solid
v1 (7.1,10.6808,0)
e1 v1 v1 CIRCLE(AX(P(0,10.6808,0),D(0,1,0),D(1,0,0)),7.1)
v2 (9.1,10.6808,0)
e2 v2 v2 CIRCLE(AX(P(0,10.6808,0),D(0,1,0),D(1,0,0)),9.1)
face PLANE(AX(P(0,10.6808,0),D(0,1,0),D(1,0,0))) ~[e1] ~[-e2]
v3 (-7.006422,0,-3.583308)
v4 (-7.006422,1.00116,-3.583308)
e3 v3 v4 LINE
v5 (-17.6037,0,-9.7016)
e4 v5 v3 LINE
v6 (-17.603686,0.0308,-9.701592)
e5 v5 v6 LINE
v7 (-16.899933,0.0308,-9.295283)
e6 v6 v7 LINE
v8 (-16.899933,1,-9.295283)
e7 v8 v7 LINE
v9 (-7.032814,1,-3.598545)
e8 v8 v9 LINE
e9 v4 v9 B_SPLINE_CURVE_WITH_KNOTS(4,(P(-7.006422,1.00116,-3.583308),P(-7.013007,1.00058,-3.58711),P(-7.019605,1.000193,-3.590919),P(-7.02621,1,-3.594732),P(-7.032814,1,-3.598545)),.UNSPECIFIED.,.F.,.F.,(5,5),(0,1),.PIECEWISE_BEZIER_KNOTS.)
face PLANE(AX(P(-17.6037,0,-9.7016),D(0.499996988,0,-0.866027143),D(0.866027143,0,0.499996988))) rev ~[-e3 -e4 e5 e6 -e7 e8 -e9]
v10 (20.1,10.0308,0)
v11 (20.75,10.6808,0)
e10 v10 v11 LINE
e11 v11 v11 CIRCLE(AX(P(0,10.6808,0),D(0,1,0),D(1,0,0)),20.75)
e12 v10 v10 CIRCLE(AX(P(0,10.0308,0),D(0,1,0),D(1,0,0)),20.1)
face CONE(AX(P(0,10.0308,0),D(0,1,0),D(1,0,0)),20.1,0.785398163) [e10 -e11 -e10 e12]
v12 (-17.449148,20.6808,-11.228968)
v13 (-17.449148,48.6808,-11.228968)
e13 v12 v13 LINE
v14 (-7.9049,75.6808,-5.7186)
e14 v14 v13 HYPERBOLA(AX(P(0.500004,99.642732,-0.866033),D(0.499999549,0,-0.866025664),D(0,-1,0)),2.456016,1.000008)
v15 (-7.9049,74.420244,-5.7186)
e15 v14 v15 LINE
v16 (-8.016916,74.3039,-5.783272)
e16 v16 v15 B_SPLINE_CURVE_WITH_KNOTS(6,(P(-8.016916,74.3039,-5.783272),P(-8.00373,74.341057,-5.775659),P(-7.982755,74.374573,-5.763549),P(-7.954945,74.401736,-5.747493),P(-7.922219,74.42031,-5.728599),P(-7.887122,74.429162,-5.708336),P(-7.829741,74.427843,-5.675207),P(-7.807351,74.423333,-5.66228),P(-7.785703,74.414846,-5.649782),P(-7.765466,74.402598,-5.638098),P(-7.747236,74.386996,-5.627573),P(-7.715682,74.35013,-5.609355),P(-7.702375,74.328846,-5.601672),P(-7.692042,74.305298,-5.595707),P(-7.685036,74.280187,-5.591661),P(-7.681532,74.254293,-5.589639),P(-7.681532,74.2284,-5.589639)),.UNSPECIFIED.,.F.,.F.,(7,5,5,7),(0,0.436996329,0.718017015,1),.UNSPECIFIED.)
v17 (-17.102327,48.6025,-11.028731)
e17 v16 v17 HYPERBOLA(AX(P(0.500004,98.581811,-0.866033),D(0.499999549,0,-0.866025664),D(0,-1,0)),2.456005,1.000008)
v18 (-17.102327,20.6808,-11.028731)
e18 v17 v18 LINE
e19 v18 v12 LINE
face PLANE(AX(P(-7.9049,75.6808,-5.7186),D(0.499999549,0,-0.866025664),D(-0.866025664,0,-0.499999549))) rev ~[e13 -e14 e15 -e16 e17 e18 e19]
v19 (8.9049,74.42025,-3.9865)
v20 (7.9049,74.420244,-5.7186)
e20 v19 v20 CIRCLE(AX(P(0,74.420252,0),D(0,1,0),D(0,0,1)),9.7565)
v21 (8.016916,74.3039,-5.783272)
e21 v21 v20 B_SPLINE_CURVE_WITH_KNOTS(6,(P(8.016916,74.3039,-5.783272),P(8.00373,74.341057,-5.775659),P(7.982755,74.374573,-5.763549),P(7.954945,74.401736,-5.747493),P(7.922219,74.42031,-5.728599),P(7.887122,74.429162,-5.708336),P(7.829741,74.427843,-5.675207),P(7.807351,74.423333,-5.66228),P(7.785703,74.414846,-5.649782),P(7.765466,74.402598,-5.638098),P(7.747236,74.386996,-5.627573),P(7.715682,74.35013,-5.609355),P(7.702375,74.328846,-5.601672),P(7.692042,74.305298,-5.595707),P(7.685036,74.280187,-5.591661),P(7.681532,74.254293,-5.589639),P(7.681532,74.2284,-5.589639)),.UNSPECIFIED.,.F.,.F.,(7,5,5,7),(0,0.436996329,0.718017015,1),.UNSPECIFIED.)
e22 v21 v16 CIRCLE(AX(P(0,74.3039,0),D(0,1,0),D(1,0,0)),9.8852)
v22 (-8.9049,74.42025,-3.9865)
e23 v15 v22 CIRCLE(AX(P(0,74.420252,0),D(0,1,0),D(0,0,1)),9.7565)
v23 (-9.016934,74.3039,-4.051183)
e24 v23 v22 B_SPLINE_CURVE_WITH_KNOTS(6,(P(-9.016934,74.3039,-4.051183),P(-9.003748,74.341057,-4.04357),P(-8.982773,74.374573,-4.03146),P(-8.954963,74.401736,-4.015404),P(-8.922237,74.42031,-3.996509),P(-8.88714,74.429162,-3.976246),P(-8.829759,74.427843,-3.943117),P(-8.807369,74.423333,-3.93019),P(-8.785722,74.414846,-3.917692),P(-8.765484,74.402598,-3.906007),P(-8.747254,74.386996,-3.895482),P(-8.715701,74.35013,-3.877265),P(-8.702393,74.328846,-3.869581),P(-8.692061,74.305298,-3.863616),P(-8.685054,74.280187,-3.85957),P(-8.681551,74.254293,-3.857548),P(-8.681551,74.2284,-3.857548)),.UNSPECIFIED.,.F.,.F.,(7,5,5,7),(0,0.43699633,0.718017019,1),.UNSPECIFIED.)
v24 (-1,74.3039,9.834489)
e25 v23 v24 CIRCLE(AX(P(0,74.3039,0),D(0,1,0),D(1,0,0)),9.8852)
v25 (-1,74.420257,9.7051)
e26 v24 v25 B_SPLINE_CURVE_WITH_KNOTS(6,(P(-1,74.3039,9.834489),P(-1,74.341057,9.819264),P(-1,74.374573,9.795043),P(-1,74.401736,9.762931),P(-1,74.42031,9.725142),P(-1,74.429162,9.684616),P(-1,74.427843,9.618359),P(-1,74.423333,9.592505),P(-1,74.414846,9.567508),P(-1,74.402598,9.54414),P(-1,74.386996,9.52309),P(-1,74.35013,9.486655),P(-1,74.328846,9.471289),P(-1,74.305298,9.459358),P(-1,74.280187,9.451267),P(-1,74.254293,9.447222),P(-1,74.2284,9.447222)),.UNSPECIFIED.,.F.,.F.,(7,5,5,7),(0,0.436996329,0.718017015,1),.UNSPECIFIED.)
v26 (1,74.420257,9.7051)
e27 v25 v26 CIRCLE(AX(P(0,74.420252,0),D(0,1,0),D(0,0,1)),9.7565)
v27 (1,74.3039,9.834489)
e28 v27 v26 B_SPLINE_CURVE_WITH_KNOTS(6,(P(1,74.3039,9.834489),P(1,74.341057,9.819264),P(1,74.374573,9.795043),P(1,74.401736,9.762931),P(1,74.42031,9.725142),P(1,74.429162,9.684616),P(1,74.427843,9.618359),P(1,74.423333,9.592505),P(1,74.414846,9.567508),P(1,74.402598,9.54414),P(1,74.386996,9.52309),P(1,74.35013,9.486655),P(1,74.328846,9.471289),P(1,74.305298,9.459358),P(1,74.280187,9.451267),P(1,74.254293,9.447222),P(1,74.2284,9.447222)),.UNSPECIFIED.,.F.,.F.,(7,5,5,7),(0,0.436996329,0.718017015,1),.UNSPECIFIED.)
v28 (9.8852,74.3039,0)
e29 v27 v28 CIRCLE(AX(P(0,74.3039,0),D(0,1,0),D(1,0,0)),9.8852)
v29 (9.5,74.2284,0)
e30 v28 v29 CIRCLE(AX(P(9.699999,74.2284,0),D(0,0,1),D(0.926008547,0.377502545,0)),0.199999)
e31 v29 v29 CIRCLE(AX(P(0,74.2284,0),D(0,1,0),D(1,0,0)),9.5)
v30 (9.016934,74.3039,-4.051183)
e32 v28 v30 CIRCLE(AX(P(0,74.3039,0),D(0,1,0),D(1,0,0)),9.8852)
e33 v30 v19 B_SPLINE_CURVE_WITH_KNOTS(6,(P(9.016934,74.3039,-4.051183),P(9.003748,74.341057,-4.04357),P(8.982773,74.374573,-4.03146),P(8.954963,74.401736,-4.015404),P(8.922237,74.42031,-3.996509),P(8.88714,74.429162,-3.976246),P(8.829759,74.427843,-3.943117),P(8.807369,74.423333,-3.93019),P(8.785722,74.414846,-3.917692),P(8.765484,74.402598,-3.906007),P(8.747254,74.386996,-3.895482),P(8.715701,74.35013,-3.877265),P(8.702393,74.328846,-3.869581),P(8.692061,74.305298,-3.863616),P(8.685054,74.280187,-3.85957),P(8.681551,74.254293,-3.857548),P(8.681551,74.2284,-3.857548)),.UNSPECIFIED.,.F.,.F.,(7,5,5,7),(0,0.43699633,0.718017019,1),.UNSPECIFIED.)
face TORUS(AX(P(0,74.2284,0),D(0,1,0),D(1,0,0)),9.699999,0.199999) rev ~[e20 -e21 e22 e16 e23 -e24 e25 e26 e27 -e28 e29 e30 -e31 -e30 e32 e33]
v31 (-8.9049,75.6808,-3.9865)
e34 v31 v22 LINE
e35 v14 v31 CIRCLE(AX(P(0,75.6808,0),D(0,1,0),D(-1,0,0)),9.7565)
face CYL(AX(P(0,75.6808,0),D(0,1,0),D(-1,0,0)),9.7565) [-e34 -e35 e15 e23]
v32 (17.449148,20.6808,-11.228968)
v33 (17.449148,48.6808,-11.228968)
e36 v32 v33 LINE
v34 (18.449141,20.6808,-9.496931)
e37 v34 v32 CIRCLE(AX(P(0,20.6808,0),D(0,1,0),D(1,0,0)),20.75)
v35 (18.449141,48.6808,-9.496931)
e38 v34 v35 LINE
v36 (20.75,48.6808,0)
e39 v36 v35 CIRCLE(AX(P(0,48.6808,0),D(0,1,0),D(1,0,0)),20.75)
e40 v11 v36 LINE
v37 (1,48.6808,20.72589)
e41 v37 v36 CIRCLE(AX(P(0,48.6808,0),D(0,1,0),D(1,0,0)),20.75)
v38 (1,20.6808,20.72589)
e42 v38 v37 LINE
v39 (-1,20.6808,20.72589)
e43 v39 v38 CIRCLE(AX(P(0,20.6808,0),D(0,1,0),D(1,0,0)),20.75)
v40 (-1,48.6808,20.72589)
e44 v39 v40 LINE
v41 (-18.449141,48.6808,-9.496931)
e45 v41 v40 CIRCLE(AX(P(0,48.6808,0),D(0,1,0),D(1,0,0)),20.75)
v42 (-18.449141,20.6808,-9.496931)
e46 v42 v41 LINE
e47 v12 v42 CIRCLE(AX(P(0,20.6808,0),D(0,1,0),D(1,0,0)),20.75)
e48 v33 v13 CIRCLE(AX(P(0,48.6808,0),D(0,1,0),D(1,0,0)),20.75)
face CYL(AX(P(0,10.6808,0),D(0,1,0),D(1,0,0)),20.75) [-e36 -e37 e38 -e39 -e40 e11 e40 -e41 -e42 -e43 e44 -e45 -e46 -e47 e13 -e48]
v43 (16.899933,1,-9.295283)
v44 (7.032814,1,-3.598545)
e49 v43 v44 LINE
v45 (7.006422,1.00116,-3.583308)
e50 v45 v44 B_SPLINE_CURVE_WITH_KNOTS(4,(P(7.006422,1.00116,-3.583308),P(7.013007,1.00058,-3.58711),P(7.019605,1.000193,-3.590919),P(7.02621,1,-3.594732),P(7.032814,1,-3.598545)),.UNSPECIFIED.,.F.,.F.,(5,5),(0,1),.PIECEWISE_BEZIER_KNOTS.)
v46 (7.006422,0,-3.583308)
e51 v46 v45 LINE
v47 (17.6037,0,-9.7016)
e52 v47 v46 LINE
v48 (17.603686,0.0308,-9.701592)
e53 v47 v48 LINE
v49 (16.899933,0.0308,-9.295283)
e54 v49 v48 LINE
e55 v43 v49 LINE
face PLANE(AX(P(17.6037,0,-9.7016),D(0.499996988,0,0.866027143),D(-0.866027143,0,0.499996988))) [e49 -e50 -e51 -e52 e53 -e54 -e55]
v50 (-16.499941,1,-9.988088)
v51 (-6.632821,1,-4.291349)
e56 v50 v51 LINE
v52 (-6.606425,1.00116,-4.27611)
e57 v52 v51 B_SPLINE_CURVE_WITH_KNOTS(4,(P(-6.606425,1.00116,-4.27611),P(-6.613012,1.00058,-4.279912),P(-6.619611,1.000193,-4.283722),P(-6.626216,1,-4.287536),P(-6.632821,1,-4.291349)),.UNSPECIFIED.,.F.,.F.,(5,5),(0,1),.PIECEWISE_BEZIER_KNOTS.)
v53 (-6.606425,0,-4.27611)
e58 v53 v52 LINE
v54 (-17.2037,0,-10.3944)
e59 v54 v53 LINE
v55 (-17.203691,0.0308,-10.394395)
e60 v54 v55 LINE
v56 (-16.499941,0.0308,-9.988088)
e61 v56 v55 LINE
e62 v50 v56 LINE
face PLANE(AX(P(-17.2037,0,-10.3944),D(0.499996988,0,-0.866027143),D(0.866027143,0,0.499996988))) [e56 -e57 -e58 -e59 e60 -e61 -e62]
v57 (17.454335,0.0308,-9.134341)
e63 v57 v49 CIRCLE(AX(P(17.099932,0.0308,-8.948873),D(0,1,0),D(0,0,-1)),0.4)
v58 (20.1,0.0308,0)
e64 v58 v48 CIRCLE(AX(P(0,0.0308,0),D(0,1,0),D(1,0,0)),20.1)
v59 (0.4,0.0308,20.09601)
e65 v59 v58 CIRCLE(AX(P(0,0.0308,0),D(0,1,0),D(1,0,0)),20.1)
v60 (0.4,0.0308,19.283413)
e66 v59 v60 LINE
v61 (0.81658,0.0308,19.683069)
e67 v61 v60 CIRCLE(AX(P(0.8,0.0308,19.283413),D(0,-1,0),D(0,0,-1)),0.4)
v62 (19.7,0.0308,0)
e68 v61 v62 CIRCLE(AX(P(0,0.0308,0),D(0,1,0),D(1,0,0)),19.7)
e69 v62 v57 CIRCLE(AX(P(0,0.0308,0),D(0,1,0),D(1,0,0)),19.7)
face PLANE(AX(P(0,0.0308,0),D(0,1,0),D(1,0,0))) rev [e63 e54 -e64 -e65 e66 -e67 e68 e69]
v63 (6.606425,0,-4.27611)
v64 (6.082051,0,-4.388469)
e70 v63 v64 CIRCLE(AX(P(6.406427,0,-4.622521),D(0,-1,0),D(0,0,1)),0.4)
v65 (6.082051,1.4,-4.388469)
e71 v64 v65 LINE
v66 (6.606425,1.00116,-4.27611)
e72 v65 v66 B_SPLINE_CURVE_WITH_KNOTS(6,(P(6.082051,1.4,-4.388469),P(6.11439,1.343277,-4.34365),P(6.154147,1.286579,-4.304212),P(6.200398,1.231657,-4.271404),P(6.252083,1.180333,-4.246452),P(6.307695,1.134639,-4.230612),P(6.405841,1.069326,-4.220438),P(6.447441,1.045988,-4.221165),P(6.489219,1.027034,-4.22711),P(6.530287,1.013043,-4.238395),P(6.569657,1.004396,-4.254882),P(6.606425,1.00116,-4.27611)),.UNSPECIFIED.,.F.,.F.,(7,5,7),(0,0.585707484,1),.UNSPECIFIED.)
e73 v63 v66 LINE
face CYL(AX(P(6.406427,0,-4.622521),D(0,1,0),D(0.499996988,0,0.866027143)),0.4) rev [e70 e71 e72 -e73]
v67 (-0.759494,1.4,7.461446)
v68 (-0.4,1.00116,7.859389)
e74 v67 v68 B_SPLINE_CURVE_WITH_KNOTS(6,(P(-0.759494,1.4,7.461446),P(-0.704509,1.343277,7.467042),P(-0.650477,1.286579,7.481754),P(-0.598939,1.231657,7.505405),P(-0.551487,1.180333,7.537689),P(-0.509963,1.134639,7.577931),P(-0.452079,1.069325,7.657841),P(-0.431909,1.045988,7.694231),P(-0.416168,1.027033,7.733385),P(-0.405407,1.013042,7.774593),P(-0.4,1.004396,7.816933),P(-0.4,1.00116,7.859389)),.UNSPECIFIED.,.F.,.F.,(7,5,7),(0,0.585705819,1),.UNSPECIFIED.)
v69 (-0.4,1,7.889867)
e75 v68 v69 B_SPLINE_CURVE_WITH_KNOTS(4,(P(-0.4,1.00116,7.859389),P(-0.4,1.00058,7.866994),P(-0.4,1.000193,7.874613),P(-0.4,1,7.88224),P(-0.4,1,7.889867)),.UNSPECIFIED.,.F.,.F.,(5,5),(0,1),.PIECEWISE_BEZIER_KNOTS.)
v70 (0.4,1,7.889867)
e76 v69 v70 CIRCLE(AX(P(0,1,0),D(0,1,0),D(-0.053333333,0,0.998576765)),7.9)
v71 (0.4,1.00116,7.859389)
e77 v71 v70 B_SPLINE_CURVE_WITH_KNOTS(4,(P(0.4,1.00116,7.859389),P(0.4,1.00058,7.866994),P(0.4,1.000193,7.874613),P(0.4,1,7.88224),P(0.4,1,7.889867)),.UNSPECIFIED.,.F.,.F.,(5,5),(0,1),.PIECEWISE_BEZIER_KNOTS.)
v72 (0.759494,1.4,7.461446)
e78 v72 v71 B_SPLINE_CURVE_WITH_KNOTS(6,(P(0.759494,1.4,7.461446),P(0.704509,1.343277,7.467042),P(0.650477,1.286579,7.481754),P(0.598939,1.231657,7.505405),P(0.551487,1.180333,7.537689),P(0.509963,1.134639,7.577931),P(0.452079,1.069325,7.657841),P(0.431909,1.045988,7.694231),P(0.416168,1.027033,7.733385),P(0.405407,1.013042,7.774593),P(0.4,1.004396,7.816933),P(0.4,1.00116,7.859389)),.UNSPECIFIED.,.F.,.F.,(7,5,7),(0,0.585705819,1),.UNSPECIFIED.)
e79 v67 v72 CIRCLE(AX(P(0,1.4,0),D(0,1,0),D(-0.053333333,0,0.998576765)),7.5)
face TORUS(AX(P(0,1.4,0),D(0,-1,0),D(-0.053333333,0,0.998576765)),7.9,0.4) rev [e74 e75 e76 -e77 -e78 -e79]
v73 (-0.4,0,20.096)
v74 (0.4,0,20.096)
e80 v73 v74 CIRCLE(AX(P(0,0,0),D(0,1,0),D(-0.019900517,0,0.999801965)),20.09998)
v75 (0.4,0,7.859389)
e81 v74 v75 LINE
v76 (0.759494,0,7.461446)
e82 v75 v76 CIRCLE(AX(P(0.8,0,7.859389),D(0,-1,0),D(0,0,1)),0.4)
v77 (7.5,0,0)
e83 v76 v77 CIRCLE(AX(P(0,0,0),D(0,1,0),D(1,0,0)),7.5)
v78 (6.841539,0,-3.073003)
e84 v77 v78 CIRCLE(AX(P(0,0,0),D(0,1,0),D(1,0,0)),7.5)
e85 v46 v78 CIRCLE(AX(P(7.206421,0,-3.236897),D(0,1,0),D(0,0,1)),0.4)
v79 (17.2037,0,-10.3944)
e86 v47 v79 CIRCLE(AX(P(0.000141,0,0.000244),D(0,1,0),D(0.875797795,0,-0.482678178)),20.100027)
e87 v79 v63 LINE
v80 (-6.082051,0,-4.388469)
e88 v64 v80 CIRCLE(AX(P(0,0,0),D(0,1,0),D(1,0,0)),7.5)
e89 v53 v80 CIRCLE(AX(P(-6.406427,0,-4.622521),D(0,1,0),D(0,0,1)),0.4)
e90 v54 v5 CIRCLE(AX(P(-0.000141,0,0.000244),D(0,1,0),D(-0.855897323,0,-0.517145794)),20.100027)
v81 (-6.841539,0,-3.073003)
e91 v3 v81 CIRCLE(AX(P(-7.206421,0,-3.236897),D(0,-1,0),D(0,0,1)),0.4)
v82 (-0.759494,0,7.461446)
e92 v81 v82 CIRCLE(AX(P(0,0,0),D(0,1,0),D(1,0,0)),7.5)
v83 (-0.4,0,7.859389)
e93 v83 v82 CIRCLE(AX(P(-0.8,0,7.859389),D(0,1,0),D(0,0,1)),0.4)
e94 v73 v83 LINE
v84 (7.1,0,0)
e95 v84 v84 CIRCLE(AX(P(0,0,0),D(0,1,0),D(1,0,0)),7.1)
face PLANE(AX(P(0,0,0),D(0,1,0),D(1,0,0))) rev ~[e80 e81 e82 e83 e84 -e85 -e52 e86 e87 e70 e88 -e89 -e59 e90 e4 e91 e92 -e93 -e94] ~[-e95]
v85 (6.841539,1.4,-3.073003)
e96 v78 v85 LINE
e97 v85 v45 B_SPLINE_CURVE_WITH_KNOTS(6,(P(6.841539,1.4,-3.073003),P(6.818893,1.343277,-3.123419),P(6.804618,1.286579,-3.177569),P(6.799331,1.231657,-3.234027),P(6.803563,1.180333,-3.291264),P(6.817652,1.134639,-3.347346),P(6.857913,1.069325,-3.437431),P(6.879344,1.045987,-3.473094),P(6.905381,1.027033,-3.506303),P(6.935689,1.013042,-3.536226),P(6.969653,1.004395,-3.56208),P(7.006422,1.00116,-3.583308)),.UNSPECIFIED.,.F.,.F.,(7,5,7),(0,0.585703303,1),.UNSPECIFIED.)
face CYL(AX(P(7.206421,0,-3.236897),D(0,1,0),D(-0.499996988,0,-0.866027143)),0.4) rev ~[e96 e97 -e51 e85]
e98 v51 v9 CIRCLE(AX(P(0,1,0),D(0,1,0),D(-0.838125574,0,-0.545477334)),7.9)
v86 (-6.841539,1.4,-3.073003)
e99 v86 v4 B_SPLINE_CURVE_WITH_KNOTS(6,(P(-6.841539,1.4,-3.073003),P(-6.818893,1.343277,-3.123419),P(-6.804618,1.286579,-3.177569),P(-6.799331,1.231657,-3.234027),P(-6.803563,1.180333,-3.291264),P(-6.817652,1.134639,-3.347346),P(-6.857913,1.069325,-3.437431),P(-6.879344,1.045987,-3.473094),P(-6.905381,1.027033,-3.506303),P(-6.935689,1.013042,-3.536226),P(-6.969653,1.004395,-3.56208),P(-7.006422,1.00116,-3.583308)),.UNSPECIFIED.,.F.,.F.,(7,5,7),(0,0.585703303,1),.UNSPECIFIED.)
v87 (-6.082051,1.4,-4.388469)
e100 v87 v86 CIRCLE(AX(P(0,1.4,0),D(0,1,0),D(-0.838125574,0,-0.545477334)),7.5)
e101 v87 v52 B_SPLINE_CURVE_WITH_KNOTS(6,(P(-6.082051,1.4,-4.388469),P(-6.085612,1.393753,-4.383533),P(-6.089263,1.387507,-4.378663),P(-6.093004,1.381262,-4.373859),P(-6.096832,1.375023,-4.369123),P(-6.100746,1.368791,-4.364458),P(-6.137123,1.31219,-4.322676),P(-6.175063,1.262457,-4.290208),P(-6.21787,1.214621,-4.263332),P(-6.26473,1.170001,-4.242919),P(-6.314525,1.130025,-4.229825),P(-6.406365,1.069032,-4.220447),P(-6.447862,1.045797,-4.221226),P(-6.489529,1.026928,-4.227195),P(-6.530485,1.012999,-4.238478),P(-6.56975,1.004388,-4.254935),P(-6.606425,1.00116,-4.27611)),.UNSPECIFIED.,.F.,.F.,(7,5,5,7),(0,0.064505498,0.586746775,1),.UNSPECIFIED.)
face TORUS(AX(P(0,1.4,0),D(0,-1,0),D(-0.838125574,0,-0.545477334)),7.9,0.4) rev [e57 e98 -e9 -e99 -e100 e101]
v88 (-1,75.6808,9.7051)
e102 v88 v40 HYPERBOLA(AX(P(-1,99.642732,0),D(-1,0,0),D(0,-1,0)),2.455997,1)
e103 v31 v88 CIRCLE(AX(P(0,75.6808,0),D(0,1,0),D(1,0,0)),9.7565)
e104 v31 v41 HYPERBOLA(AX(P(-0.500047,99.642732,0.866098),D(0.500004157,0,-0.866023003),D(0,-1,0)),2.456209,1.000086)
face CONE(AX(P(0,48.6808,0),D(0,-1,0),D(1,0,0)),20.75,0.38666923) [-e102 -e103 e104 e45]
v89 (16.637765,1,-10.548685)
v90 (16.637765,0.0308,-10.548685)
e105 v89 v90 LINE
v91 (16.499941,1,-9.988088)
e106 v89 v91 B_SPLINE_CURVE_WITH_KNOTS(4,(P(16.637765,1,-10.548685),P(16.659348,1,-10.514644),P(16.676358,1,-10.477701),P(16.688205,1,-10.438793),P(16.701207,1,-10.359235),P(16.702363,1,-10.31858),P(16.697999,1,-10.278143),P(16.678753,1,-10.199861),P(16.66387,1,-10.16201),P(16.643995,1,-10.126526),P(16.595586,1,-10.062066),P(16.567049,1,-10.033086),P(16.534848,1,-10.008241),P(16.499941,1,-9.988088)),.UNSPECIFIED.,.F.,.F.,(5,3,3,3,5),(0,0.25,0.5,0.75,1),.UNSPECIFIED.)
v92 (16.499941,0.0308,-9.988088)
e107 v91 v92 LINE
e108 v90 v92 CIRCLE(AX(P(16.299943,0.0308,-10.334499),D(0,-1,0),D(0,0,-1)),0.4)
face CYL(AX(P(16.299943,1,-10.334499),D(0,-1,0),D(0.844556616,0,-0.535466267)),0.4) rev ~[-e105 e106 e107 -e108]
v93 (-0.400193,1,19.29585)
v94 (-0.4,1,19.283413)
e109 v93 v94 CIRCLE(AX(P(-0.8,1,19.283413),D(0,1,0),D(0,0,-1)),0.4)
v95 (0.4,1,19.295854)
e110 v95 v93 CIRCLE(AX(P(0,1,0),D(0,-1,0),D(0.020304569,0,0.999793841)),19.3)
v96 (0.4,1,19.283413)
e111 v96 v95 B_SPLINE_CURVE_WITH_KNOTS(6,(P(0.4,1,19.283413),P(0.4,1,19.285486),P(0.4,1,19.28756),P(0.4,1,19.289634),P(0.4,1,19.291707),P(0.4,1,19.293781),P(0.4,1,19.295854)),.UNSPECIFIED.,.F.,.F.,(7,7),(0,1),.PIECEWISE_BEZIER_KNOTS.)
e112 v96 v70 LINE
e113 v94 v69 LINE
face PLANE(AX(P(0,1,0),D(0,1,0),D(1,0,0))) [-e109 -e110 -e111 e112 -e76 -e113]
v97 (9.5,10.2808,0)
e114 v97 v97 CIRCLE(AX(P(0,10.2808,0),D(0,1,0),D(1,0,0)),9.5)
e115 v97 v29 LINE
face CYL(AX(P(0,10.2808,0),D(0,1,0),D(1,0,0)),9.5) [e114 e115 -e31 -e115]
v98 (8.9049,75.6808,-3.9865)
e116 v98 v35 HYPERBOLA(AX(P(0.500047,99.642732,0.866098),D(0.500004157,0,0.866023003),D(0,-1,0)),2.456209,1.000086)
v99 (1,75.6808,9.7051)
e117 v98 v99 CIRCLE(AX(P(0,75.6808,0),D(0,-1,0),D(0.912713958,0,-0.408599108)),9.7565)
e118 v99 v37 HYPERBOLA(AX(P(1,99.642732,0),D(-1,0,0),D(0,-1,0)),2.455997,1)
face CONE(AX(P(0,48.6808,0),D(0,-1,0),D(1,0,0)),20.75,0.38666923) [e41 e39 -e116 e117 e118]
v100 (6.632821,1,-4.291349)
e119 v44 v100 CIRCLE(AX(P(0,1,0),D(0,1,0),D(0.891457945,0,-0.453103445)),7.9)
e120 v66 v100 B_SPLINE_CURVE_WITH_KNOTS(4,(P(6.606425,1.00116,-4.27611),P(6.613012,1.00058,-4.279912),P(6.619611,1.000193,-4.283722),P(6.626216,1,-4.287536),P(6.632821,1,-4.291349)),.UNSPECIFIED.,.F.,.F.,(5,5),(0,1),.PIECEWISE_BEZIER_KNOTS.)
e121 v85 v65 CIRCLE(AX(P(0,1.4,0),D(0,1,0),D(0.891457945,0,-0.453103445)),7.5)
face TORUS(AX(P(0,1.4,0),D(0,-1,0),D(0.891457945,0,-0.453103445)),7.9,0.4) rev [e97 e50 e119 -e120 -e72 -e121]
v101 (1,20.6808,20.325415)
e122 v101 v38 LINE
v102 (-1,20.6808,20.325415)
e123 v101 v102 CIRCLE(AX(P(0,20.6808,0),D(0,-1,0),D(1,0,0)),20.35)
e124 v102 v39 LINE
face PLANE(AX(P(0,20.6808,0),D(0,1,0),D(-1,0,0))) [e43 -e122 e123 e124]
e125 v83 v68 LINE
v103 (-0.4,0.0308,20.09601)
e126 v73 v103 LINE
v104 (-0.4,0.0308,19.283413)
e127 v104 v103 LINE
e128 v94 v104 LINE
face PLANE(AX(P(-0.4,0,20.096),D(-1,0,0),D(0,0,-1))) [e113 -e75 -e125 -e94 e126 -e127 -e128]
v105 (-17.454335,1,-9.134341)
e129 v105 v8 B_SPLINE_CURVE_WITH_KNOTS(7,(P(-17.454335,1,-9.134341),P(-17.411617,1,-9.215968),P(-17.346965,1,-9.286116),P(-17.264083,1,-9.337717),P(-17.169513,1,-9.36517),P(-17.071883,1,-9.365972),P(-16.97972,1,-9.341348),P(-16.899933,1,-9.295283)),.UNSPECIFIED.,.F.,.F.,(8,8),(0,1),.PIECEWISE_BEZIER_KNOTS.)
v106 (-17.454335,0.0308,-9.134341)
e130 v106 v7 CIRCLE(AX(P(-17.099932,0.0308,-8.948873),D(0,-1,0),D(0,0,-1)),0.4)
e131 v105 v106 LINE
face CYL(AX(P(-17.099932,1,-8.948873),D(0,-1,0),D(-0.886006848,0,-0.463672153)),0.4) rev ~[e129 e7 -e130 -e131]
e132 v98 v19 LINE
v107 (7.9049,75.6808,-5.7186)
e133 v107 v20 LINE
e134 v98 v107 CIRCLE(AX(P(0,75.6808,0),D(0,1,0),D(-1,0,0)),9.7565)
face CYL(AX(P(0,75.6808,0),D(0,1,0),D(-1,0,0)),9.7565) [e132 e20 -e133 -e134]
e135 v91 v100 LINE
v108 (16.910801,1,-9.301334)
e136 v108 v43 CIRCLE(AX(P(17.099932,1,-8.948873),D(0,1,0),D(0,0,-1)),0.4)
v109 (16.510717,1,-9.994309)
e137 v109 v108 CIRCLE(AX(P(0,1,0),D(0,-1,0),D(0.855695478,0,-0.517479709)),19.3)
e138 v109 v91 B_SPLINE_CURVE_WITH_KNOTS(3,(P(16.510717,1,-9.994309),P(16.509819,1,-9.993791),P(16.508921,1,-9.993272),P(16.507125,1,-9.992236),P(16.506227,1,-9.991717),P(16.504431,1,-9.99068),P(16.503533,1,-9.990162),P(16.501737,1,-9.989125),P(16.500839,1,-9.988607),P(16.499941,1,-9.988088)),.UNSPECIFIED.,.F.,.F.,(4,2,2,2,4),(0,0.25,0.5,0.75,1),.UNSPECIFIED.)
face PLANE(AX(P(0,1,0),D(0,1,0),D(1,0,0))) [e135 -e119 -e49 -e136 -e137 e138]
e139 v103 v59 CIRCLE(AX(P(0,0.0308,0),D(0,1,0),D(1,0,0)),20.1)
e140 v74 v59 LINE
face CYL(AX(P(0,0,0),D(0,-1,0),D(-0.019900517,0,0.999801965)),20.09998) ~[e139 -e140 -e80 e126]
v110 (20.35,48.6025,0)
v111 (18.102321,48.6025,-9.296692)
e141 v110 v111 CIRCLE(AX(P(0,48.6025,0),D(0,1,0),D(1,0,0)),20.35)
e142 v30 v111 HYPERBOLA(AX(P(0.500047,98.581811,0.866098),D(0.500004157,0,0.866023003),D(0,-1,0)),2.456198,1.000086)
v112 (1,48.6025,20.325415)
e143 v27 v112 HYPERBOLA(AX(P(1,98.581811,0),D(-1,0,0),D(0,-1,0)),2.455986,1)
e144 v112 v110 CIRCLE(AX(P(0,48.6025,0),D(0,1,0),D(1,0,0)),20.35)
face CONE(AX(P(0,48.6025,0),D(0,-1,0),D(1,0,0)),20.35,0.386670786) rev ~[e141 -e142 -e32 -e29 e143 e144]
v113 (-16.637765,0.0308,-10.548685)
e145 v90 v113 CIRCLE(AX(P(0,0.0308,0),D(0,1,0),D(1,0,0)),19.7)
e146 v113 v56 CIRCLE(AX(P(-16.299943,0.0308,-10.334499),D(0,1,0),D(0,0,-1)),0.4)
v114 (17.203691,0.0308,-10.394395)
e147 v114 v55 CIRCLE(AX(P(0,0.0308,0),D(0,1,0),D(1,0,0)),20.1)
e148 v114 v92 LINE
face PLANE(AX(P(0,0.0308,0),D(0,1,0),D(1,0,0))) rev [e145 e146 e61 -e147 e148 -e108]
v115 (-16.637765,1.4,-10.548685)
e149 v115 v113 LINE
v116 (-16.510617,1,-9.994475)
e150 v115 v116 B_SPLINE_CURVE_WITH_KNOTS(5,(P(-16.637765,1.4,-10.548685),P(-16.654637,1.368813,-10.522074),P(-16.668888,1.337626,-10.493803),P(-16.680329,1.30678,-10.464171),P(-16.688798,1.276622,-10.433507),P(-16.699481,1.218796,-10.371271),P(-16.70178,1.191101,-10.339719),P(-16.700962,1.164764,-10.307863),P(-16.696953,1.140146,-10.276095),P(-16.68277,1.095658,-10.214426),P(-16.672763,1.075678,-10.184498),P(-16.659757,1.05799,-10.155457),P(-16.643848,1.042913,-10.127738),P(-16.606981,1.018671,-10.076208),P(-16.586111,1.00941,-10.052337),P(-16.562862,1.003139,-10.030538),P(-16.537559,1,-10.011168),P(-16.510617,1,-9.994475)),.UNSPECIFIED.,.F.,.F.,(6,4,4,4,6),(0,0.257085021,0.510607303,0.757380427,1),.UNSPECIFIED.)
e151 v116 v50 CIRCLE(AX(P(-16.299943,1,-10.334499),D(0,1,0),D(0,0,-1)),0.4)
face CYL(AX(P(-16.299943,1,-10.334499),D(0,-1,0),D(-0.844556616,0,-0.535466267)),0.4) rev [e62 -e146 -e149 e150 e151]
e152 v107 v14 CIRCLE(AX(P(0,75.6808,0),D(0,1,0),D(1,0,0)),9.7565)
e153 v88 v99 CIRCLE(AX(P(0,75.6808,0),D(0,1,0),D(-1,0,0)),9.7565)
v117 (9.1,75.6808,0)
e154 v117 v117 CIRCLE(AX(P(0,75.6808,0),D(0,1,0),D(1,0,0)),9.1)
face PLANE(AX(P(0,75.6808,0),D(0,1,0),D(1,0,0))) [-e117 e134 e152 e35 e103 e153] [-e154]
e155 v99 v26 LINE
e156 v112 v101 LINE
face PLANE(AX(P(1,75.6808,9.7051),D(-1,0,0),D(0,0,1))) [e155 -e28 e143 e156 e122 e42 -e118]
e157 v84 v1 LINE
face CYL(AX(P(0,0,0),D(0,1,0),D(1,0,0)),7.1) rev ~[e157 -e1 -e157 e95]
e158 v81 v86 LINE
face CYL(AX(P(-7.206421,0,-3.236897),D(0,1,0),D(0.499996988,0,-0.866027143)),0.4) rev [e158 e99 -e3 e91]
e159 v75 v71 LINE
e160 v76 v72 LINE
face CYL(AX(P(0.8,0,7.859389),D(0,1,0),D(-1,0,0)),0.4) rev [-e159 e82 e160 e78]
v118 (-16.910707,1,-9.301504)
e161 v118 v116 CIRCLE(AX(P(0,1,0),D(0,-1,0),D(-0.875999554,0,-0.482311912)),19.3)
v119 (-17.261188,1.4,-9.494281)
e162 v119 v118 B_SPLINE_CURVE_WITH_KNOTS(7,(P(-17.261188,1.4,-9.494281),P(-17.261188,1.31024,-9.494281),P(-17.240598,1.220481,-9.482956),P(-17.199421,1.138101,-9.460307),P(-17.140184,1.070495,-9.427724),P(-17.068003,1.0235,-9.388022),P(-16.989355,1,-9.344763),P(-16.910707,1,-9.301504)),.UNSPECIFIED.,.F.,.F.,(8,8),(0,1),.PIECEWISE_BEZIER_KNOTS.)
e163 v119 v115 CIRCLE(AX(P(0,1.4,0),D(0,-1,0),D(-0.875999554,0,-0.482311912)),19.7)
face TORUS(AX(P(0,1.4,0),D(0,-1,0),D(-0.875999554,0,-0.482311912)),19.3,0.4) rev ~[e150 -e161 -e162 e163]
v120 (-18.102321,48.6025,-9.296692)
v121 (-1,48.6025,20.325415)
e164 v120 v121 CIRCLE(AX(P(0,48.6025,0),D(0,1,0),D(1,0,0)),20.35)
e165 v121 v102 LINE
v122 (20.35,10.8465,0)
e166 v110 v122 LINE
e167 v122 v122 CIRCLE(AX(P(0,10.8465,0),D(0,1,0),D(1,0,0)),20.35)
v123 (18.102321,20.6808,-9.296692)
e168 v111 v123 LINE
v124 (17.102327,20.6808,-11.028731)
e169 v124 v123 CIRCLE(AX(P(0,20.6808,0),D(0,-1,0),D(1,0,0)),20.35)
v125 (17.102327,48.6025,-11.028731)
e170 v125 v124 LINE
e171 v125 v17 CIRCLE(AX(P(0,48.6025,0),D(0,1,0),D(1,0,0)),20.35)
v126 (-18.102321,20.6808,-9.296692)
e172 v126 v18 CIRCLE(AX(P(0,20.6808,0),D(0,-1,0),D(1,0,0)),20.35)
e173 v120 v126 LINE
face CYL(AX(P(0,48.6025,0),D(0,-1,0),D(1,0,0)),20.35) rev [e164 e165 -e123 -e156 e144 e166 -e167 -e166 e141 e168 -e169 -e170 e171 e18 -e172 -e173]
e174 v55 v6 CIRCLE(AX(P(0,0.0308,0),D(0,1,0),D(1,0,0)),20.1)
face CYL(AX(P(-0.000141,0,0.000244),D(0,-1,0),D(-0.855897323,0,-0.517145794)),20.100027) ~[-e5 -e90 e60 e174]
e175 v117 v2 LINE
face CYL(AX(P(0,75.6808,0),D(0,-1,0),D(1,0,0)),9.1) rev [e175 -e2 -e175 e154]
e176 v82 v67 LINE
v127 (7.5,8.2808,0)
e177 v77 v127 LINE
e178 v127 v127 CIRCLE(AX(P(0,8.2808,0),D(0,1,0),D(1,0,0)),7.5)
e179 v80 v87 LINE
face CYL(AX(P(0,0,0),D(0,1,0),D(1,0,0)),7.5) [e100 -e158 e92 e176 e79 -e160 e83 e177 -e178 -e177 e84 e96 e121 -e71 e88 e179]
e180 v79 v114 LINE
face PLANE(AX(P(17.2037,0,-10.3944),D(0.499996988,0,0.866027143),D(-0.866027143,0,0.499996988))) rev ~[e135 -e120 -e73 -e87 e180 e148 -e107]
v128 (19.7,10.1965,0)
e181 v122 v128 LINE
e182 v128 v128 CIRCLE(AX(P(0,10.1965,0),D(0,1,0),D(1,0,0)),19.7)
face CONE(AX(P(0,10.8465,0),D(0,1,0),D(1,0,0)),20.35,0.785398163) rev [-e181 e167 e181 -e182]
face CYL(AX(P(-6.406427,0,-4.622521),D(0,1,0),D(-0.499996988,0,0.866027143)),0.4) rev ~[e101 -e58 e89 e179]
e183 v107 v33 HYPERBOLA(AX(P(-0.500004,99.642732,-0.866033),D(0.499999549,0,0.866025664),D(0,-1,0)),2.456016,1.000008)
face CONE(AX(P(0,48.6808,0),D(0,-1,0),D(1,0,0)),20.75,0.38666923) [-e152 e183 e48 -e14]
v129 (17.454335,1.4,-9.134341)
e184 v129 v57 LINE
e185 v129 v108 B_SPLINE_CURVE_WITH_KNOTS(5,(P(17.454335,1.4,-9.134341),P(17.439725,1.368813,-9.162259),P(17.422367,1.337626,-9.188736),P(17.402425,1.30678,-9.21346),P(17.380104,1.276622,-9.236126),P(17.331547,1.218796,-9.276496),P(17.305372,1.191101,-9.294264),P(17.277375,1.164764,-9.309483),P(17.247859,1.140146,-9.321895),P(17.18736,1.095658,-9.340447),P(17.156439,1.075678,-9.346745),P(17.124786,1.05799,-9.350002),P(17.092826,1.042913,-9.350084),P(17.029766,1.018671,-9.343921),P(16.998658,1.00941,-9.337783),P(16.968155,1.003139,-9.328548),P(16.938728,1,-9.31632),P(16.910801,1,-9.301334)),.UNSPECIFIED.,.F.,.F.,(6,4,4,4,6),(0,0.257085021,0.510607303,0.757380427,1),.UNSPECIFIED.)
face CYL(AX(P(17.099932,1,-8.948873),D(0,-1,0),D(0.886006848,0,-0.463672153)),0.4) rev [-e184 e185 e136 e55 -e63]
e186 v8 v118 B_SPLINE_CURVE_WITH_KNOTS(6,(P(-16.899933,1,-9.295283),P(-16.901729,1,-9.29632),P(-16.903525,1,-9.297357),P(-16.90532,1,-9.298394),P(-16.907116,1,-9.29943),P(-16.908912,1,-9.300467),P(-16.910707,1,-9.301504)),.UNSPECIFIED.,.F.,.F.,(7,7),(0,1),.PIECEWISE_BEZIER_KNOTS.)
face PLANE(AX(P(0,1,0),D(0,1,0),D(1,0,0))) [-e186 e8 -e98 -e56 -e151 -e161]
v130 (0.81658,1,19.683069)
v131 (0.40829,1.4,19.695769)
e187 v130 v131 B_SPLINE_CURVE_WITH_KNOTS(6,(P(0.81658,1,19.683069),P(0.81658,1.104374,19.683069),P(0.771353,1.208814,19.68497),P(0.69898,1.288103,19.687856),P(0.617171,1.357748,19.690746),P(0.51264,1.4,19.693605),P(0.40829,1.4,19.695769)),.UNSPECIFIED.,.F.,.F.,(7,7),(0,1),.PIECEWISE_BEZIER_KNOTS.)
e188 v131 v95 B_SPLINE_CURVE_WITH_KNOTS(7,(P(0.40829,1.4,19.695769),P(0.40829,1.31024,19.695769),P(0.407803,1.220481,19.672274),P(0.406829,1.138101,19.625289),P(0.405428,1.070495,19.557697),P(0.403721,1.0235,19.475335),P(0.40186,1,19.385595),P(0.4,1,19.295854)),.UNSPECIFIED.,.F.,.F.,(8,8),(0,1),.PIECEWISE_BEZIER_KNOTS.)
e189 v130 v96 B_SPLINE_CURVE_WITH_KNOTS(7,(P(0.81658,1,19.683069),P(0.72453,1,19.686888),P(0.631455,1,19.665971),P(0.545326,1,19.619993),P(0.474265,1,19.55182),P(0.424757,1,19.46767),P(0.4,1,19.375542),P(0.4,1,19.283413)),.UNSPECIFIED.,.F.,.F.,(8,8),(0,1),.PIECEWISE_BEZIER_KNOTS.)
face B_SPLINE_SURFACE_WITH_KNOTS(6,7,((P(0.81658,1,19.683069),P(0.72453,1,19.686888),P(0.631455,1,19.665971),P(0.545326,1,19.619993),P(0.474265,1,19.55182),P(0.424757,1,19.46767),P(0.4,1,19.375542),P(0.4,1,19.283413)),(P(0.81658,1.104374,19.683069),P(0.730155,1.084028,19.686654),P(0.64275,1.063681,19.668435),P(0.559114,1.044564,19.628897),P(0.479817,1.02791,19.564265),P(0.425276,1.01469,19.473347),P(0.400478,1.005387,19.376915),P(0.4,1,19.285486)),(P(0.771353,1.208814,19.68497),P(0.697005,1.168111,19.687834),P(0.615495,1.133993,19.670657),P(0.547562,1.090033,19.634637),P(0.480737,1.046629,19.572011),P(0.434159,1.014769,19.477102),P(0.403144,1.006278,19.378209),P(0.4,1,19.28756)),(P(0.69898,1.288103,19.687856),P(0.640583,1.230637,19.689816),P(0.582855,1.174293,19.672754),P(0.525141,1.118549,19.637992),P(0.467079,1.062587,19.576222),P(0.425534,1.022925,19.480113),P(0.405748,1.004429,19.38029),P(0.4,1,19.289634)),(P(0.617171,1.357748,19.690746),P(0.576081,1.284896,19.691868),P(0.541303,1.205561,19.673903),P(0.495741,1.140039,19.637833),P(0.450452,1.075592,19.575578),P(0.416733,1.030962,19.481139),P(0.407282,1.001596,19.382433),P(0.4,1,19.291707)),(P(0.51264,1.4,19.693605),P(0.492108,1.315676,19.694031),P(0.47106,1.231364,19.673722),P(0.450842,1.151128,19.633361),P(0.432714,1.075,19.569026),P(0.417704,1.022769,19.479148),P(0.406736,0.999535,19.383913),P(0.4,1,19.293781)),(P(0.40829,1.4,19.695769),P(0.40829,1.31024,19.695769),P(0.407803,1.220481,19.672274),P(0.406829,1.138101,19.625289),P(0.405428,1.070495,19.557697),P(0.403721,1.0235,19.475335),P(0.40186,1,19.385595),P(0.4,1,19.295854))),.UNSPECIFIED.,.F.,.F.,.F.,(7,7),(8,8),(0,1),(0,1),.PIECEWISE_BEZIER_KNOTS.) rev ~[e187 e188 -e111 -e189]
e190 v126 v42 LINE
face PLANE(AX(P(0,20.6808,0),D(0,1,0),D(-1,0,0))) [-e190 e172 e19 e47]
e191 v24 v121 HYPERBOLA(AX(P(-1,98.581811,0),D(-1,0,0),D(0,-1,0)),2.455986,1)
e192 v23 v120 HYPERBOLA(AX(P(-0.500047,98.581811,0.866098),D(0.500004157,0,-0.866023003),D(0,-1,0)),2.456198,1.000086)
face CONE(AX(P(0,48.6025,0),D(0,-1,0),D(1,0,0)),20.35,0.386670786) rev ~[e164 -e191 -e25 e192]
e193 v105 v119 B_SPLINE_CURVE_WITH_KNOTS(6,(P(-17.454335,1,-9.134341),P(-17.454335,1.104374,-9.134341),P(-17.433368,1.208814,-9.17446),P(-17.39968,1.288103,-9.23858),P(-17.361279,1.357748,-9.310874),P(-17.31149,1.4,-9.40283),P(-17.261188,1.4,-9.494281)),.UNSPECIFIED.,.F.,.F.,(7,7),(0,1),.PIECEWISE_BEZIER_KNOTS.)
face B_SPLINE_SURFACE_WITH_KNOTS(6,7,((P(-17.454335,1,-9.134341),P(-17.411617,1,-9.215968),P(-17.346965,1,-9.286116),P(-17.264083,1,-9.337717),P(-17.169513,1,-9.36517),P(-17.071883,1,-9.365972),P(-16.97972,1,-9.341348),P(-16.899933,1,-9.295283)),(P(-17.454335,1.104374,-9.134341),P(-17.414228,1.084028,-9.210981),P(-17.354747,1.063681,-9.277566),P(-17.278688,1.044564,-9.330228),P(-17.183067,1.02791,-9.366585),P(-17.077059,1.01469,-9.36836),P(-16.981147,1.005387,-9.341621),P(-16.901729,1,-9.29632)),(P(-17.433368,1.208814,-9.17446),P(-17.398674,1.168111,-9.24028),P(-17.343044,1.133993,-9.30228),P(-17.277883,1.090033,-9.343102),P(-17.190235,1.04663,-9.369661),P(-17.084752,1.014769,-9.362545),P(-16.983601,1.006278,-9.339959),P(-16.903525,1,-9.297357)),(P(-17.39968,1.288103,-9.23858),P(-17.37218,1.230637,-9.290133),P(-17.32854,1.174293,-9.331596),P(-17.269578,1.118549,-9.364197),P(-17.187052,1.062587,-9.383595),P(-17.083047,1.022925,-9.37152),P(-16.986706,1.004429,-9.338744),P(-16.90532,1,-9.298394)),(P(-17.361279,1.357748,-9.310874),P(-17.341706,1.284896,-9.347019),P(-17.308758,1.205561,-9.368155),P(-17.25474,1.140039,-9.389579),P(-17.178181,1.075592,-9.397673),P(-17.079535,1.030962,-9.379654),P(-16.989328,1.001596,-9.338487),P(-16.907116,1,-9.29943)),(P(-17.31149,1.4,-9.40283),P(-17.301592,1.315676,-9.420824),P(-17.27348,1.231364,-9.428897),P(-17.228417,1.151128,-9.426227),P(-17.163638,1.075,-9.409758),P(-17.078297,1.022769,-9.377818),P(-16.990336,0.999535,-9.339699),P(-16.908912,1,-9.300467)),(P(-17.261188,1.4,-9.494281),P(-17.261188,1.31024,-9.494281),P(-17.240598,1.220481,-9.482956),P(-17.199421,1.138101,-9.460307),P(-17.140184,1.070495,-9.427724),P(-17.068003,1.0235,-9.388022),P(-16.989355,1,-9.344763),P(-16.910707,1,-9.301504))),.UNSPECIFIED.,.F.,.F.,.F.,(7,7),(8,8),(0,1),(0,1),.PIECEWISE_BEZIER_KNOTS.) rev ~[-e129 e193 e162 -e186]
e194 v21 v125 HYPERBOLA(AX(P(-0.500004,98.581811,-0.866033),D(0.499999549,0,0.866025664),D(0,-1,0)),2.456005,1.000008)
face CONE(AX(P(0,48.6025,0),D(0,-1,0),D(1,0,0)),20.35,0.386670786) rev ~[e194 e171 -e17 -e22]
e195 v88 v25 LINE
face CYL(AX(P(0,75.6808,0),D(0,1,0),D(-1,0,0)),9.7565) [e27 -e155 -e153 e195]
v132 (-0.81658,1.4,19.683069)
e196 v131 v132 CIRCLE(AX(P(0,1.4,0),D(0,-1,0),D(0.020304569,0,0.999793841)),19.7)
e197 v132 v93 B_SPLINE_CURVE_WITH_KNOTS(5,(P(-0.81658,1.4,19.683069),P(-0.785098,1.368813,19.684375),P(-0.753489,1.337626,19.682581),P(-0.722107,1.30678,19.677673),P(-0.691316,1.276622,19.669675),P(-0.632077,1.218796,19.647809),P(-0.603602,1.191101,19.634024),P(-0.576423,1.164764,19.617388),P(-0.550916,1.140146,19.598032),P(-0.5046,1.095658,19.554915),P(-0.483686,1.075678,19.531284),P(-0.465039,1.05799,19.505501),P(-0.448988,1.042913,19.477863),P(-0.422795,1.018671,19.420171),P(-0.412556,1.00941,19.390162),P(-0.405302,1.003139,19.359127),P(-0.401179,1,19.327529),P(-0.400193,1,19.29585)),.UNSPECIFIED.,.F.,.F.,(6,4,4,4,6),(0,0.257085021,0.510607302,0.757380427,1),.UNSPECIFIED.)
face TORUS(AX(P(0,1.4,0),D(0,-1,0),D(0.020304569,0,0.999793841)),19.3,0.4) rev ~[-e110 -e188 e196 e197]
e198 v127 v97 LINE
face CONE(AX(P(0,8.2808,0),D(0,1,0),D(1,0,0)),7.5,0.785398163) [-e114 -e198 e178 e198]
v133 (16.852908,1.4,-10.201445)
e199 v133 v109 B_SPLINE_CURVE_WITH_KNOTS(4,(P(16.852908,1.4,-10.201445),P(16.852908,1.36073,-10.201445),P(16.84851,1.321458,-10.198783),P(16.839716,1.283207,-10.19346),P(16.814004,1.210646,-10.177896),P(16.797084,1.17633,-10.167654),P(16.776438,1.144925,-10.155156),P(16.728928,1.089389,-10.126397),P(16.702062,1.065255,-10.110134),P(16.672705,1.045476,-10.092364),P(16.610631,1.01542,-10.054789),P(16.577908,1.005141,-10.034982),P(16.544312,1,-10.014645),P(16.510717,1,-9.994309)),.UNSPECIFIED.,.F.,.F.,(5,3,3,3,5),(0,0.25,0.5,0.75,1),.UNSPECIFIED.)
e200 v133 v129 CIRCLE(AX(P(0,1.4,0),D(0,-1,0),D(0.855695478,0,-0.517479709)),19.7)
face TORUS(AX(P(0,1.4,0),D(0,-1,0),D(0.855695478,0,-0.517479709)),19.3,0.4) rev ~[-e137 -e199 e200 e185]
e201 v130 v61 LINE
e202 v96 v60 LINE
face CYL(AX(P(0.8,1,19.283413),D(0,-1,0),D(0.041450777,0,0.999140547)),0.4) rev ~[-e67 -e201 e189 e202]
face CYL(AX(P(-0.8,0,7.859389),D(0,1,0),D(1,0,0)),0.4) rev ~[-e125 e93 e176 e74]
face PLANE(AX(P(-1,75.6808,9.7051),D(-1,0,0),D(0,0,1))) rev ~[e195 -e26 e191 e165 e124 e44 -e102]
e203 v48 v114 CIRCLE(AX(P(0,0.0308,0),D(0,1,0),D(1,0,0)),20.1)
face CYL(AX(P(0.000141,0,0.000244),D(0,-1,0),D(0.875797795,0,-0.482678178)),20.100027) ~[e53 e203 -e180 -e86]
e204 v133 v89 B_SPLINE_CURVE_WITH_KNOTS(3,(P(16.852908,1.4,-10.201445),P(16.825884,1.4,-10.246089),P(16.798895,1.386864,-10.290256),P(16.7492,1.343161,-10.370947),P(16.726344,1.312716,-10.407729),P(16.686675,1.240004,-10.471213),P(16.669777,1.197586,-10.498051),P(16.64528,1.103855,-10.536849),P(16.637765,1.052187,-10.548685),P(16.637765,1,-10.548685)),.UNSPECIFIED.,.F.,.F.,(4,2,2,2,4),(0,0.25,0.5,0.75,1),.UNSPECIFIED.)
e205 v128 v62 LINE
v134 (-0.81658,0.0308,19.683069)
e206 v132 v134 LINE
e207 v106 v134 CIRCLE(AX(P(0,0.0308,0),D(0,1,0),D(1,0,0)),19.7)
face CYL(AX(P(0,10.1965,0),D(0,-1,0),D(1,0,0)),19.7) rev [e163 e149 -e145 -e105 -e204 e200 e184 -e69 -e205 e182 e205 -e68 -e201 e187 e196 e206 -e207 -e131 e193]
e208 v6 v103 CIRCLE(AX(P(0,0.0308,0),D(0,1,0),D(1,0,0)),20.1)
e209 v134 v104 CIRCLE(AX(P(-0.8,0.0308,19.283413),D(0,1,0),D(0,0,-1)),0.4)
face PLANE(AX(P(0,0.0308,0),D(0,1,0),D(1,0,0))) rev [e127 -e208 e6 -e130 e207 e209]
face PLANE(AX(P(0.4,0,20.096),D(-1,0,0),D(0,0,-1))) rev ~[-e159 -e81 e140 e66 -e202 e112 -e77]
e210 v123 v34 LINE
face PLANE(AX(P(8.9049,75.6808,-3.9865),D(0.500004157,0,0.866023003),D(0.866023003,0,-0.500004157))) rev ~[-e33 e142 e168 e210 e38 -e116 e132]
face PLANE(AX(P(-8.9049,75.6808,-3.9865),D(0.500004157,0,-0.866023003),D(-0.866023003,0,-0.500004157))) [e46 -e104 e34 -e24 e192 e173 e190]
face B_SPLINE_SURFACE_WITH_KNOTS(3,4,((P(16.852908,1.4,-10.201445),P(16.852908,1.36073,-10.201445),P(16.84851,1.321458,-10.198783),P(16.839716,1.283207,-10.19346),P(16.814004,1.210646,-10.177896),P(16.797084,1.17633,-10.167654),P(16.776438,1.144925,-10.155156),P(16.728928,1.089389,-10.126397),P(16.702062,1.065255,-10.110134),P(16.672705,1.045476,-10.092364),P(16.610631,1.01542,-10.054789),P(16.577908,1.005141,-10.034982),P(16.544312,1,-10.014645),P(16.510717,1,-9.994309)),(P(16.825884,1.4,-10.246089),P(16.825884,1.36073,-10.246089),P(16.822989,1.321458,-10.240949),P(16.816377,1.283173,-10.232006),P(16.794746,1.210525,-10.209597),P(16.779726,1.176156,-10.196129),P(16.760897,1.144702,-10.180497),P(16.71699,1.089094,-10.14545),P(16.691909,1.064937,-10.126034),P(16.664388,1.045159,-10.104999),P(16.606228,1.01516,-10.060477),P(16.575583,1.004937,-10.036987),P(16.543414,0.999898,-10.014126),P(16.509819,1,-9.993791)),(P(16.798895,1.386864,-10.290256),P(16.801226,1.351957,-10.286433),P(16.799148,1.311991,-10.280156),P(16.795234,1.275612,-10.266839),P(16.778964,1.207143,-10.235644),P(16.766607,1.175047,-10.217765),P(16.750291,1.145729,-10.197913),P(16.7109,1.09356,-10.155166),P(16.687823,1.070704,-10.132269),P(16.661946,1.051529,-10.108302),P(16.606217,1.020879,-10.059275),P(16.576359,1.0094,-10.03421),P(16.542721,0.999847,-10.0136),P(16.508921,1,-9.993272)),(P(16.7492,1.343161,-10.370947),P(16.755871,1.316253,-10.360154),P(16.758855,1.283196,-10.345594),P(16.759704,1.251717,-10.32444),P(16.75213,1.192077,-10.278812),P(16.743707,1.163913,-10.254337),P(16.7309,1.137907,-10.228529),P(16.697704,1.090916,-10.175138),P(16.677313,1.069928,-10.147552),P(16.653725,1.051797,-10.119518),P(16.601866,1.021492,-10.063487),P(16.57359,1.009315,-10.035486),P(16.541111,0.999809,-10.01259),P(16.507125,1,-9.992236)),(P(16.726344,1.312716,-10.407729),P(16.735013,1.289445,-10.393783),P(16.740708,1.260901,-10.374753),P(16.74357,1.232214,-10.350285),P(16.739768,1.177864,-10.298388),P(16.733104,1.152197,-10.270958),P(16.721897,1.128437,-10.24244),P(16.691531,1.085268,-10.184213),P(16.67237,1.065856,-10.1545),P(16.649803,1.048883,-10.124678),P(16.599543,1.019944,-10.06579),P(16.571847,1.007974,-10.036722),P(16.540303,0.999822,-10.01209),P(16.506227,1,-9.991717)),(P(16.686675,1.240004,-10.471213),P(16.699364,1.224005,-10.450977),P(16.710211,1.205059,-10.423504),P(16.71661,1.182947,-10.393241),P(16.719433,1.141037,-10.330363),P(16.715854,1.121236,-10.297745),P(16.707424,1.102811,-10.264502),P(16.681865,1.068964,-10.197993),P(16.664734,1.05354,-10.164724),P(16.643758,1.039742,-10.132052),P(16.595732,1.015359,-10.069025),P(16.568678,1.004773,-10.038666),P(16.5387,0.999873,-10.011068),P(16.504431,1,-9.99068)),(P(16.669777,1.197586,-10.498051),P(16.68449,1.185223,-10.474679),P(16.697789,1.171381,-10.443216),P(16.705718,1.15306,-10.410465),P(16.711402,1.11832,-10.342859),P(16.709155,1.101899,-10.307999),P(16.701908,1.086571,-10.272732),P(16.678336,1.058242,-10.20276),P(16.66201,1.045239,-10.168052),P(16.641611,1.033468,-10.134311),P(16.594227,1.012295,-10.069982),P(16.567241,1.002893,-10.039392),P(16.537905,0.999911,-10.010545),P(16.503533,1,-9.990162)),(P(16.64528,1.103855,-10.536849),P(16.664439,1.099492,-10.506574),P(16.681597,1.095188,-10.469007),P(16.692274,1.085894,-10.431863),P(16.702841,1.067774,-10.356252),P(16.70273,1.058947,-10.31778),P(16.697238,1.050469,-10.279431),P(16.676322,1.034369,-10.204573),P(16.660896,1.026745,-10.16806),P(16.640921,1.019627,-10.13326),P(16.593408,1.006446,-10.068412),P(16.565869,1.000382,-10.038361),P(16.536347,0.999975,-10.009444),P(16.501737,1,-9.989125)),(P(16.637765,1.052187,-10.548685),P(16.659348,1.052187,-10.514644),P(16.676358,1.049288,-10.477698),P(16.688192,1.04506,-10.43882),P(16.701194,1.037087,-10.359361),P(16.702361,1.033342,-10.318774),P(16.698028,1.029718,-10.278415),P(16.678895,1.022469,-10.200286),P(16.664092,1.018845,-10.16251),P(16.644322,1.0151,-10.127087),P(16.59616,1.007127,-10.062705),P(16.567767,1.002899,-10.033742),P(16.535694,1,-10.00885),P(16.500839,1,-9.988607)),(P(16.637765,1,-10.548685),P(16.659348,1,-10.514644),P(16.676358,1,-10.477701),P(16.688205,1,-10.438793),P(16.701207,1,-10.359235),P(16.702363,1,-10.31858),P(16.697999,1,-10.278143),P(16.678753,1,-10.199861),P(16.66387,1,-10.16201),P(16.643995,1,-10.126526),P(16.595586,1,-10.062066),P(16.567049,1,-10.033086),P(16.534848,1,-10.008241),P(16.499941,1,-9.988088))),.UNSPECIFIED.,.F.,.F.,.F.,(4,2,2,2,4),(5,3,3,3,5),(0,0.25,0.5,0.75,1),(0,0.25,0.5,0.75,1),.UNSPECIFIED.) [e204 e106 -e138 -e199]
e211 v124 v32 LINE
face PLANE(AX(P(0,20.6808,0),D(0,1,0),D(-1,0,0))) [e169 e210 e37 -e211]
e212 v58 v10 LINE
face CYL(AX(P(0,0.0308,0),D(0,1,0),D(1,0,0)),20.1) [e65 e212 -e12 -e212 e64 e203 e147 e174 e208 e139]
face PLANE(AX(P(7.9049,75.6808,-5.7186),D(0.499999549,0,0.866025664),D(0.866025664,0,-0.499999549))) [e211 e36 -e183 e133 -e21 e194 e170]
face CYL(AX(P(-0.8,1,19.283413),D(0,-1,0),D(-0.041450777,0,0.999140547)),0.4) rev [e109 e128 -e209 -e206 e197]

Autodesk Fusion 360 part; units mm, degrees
sketch "Sketch1" plane through (0, 0, 0) normal (0, 0, 1) x (1, 0, 0)
  line L0 (20.1, 0.0308) -> (20.1, 10.0308)
  line L1 (20.1, 10.0308) -> (20.75, 10.6808)
  line L2 (20.75, 10.6808) -> (20.75, 48.6808)
  line L3 (9.1, 75.6808) -> (9.1, 10.6808)
  line L4 (9.1, 0) -> (9.5, 0)
  line L5 (9.5, 10.2808) -> (9.5, 74.2284)
  line L6 (20.35, 48.6025) -> (20.35, 10.8465)
  line L7 (20.35, 10.8465) -> (19.7, 10.1965)
  line L8 (19.7, 10.1965) -> (19.7, 0.0308)
  line L9 (19.7, 0.0308) -> (20.1, 0.0308)
  line L10 (20.35, 48.6025) -> (9.8852, 74.3039)
  line L11 (20.75, 48.6808) -> (9.7565, 75.6808)
  line L12 (9.7565, 75.6808) -> (9.1, 75.6808)
  arc A0 (9.8852, 74.3039) -> (9.5, 74.2284) centre (9.7, 74.2284) ccw
  line L13 (7.1, 0) -> (7.1, 10.6808)
  line L14 (7.1, 0) -> (7.5, 0)
  line L15 (7.5, 0) -> (7.5, 8.2808)
  line L16 (7.5, 8.2808) -> (9.5, 10.2808)
  line L17 (7.1, 10.6808) -> (9.1, 10.6808)
  dimension "d1" = 20.1
  dimension "d2" = 0.4
  dimension "d3" = 0.4
  dimension "d4" = 0.4
  dimension "d5" = 20.75
  dimension "d6" = 135
  dimension "d7" = 9.1
  dimension "d8" = 0.4
  dimension "d10" = 38
  dimension "d11" = 10
  dimension "d14" = 0.2
  dimension "d15" = 2
  dimension "d16" = 2
  dimension "d17" = 0.4
  dimension "d18" = 65
  dimension "d19" = 27
  dimension "d20" = 0.4
  dimension "d21" = 135
revolve "Revolve1" add sketch "Sketch1" angle 360 about axis through (0, 1.75, 0) along (0, 1, 0)
sketch "Sketch2" plane through (0, 0, 0) normal (0, 1, 0) x (1, 0, 0)
  line L0 (-0.4, -20.096) -> (-0.4, -7.3892)
  line L1 (0.4, -20.096) -> (0.4, -7.3892)
  arc A0 (-0.4, -20.096) -> (0.4, -20.096) centre (0, 0) ccw
  arc A1 (-0.4, -7.3892) -> (0.4, -7.3892) centre (0, 0) ccw
  arc A2 (6.5992, 3.3482) -> (6.1992, 4.041) centre (0, 0) ccw
  line L2 (17.6037, 9.7016) -> (6.5992, 3.3482)
  arc A3 (17.6037, 9.7016) -> (17.2037, 10.3944) centre (0, 0) ccw
  line L3 (17.2037, 10.3944) -> (6.1992, 4.041)
  arc A4 (-6.1992, 4.041) -> (-6.5992, 3.3482) centre (0, 0) ccw
  line L4 (-17.2037, 10.3944) -> (-6.1992, 4.041)
  arc A5 (-17.2037, 10.3944) -> (-17.6037, 9.7016) centre (0, 0) ccw
  line L5 (-17.6037, 9.7016) -> (-6.5992, 3.3482)
  dimension "d23" = 14.8
  dimension "d24" = 40.2
  dimension "d25" = 0.8
  dimension "d26" = 0.4
  dimension "d28" = 360
extrude "Extrude1" add sketch "Sketch2" along normal blind 1
sketch "Sketch4" plane through (0, 75.6808, 0) normal (0, 1, 0) x (-1, 0, 0)
  circle A0 centre (0, 0) radius 9.1
  circle A1 centre (0, 0) radius 9.7565
  line L0 (-1, 9.7051) -> (-1, 25.9808)
  line L1 (1, 9.7051) -> (1, 25.9808)
  arc A2 (1, 25.9808) -> (-1, 25.9808) centre (0, 0) ccw
  arc A3 (1, 9.7051) -> (-1, 9.7051) centre (0, 0) ccw
  line L2 (-8.9049, -3.9865) -> (-23, -12.1244)
  arc A4 (-23, -12.1244) -> (-22, -13.8564) centre (0, 0) ccw
  arc A5 (-8.9049, -3.9865) -> (-7.9049, -5.7186) centre (0, 0) ccw
  line L3 (-7.9049, -5.7186) -> (-22, -13.8564)
  line L4 (7.9049, -5.7186) -> (22, -13.8564)
  arc A6 (22, -13.8564) -> (23, -12.1244) centre (0, 0) ccw
  arc A7 (7.9049, -5.7186) -> (8.9049, -3.9865) centre (0, 0) ccw
  line L5 (8.9049, -3.9865) -> (23, -12.1244)
  dimension "d35" = 2
  dimension "d36" = 1
  dimension "d38" = 360
extrude "Extrude2" cut sketch "Sketch4" against normal blind 55 contours A1 L0 L1 A2 A3 | A1 L4 A6 A7 L5 | A1 L2 A4 A5 L3
fillet "Fillet1" radius 0.4 3 edges at (0.4, 0.5, 7.4893) (0, 1, 7.5) (-0.4, 0.5, 7.4893)
fillet "Fillet1" radius 0.4 3 edges at (0.4, 0.5154, 19.6959) (-0.4, 0.5154, 19.6959) (0, 1, 19.7)
fillet "Fillet1" radius 0.4 12 edges at (-17.2572, 0.5154, -9.5016) (-17.0607, 1, -9.85) (-16.8572, 0.5154, -10.1944) (-6.6859, 0.5, -3.3983) (-6.4952, 1, -3.75) (-6.2859, 0.5, -4.0911) (17.2572, 0.5154, -9.5016) (17.0607, 1, -9.85) (16.8572, 0.5154, -10.1944) (6.6859, 0.5, -3.3983) (6.4952, 1, -3.75) (6.2859, 0.5, -4.0911)
equation "d1 = ( 40.2 / 2 ) * 1 mm"
equation "d5 = ( 41.5 / 2 ) * 1 mm"
